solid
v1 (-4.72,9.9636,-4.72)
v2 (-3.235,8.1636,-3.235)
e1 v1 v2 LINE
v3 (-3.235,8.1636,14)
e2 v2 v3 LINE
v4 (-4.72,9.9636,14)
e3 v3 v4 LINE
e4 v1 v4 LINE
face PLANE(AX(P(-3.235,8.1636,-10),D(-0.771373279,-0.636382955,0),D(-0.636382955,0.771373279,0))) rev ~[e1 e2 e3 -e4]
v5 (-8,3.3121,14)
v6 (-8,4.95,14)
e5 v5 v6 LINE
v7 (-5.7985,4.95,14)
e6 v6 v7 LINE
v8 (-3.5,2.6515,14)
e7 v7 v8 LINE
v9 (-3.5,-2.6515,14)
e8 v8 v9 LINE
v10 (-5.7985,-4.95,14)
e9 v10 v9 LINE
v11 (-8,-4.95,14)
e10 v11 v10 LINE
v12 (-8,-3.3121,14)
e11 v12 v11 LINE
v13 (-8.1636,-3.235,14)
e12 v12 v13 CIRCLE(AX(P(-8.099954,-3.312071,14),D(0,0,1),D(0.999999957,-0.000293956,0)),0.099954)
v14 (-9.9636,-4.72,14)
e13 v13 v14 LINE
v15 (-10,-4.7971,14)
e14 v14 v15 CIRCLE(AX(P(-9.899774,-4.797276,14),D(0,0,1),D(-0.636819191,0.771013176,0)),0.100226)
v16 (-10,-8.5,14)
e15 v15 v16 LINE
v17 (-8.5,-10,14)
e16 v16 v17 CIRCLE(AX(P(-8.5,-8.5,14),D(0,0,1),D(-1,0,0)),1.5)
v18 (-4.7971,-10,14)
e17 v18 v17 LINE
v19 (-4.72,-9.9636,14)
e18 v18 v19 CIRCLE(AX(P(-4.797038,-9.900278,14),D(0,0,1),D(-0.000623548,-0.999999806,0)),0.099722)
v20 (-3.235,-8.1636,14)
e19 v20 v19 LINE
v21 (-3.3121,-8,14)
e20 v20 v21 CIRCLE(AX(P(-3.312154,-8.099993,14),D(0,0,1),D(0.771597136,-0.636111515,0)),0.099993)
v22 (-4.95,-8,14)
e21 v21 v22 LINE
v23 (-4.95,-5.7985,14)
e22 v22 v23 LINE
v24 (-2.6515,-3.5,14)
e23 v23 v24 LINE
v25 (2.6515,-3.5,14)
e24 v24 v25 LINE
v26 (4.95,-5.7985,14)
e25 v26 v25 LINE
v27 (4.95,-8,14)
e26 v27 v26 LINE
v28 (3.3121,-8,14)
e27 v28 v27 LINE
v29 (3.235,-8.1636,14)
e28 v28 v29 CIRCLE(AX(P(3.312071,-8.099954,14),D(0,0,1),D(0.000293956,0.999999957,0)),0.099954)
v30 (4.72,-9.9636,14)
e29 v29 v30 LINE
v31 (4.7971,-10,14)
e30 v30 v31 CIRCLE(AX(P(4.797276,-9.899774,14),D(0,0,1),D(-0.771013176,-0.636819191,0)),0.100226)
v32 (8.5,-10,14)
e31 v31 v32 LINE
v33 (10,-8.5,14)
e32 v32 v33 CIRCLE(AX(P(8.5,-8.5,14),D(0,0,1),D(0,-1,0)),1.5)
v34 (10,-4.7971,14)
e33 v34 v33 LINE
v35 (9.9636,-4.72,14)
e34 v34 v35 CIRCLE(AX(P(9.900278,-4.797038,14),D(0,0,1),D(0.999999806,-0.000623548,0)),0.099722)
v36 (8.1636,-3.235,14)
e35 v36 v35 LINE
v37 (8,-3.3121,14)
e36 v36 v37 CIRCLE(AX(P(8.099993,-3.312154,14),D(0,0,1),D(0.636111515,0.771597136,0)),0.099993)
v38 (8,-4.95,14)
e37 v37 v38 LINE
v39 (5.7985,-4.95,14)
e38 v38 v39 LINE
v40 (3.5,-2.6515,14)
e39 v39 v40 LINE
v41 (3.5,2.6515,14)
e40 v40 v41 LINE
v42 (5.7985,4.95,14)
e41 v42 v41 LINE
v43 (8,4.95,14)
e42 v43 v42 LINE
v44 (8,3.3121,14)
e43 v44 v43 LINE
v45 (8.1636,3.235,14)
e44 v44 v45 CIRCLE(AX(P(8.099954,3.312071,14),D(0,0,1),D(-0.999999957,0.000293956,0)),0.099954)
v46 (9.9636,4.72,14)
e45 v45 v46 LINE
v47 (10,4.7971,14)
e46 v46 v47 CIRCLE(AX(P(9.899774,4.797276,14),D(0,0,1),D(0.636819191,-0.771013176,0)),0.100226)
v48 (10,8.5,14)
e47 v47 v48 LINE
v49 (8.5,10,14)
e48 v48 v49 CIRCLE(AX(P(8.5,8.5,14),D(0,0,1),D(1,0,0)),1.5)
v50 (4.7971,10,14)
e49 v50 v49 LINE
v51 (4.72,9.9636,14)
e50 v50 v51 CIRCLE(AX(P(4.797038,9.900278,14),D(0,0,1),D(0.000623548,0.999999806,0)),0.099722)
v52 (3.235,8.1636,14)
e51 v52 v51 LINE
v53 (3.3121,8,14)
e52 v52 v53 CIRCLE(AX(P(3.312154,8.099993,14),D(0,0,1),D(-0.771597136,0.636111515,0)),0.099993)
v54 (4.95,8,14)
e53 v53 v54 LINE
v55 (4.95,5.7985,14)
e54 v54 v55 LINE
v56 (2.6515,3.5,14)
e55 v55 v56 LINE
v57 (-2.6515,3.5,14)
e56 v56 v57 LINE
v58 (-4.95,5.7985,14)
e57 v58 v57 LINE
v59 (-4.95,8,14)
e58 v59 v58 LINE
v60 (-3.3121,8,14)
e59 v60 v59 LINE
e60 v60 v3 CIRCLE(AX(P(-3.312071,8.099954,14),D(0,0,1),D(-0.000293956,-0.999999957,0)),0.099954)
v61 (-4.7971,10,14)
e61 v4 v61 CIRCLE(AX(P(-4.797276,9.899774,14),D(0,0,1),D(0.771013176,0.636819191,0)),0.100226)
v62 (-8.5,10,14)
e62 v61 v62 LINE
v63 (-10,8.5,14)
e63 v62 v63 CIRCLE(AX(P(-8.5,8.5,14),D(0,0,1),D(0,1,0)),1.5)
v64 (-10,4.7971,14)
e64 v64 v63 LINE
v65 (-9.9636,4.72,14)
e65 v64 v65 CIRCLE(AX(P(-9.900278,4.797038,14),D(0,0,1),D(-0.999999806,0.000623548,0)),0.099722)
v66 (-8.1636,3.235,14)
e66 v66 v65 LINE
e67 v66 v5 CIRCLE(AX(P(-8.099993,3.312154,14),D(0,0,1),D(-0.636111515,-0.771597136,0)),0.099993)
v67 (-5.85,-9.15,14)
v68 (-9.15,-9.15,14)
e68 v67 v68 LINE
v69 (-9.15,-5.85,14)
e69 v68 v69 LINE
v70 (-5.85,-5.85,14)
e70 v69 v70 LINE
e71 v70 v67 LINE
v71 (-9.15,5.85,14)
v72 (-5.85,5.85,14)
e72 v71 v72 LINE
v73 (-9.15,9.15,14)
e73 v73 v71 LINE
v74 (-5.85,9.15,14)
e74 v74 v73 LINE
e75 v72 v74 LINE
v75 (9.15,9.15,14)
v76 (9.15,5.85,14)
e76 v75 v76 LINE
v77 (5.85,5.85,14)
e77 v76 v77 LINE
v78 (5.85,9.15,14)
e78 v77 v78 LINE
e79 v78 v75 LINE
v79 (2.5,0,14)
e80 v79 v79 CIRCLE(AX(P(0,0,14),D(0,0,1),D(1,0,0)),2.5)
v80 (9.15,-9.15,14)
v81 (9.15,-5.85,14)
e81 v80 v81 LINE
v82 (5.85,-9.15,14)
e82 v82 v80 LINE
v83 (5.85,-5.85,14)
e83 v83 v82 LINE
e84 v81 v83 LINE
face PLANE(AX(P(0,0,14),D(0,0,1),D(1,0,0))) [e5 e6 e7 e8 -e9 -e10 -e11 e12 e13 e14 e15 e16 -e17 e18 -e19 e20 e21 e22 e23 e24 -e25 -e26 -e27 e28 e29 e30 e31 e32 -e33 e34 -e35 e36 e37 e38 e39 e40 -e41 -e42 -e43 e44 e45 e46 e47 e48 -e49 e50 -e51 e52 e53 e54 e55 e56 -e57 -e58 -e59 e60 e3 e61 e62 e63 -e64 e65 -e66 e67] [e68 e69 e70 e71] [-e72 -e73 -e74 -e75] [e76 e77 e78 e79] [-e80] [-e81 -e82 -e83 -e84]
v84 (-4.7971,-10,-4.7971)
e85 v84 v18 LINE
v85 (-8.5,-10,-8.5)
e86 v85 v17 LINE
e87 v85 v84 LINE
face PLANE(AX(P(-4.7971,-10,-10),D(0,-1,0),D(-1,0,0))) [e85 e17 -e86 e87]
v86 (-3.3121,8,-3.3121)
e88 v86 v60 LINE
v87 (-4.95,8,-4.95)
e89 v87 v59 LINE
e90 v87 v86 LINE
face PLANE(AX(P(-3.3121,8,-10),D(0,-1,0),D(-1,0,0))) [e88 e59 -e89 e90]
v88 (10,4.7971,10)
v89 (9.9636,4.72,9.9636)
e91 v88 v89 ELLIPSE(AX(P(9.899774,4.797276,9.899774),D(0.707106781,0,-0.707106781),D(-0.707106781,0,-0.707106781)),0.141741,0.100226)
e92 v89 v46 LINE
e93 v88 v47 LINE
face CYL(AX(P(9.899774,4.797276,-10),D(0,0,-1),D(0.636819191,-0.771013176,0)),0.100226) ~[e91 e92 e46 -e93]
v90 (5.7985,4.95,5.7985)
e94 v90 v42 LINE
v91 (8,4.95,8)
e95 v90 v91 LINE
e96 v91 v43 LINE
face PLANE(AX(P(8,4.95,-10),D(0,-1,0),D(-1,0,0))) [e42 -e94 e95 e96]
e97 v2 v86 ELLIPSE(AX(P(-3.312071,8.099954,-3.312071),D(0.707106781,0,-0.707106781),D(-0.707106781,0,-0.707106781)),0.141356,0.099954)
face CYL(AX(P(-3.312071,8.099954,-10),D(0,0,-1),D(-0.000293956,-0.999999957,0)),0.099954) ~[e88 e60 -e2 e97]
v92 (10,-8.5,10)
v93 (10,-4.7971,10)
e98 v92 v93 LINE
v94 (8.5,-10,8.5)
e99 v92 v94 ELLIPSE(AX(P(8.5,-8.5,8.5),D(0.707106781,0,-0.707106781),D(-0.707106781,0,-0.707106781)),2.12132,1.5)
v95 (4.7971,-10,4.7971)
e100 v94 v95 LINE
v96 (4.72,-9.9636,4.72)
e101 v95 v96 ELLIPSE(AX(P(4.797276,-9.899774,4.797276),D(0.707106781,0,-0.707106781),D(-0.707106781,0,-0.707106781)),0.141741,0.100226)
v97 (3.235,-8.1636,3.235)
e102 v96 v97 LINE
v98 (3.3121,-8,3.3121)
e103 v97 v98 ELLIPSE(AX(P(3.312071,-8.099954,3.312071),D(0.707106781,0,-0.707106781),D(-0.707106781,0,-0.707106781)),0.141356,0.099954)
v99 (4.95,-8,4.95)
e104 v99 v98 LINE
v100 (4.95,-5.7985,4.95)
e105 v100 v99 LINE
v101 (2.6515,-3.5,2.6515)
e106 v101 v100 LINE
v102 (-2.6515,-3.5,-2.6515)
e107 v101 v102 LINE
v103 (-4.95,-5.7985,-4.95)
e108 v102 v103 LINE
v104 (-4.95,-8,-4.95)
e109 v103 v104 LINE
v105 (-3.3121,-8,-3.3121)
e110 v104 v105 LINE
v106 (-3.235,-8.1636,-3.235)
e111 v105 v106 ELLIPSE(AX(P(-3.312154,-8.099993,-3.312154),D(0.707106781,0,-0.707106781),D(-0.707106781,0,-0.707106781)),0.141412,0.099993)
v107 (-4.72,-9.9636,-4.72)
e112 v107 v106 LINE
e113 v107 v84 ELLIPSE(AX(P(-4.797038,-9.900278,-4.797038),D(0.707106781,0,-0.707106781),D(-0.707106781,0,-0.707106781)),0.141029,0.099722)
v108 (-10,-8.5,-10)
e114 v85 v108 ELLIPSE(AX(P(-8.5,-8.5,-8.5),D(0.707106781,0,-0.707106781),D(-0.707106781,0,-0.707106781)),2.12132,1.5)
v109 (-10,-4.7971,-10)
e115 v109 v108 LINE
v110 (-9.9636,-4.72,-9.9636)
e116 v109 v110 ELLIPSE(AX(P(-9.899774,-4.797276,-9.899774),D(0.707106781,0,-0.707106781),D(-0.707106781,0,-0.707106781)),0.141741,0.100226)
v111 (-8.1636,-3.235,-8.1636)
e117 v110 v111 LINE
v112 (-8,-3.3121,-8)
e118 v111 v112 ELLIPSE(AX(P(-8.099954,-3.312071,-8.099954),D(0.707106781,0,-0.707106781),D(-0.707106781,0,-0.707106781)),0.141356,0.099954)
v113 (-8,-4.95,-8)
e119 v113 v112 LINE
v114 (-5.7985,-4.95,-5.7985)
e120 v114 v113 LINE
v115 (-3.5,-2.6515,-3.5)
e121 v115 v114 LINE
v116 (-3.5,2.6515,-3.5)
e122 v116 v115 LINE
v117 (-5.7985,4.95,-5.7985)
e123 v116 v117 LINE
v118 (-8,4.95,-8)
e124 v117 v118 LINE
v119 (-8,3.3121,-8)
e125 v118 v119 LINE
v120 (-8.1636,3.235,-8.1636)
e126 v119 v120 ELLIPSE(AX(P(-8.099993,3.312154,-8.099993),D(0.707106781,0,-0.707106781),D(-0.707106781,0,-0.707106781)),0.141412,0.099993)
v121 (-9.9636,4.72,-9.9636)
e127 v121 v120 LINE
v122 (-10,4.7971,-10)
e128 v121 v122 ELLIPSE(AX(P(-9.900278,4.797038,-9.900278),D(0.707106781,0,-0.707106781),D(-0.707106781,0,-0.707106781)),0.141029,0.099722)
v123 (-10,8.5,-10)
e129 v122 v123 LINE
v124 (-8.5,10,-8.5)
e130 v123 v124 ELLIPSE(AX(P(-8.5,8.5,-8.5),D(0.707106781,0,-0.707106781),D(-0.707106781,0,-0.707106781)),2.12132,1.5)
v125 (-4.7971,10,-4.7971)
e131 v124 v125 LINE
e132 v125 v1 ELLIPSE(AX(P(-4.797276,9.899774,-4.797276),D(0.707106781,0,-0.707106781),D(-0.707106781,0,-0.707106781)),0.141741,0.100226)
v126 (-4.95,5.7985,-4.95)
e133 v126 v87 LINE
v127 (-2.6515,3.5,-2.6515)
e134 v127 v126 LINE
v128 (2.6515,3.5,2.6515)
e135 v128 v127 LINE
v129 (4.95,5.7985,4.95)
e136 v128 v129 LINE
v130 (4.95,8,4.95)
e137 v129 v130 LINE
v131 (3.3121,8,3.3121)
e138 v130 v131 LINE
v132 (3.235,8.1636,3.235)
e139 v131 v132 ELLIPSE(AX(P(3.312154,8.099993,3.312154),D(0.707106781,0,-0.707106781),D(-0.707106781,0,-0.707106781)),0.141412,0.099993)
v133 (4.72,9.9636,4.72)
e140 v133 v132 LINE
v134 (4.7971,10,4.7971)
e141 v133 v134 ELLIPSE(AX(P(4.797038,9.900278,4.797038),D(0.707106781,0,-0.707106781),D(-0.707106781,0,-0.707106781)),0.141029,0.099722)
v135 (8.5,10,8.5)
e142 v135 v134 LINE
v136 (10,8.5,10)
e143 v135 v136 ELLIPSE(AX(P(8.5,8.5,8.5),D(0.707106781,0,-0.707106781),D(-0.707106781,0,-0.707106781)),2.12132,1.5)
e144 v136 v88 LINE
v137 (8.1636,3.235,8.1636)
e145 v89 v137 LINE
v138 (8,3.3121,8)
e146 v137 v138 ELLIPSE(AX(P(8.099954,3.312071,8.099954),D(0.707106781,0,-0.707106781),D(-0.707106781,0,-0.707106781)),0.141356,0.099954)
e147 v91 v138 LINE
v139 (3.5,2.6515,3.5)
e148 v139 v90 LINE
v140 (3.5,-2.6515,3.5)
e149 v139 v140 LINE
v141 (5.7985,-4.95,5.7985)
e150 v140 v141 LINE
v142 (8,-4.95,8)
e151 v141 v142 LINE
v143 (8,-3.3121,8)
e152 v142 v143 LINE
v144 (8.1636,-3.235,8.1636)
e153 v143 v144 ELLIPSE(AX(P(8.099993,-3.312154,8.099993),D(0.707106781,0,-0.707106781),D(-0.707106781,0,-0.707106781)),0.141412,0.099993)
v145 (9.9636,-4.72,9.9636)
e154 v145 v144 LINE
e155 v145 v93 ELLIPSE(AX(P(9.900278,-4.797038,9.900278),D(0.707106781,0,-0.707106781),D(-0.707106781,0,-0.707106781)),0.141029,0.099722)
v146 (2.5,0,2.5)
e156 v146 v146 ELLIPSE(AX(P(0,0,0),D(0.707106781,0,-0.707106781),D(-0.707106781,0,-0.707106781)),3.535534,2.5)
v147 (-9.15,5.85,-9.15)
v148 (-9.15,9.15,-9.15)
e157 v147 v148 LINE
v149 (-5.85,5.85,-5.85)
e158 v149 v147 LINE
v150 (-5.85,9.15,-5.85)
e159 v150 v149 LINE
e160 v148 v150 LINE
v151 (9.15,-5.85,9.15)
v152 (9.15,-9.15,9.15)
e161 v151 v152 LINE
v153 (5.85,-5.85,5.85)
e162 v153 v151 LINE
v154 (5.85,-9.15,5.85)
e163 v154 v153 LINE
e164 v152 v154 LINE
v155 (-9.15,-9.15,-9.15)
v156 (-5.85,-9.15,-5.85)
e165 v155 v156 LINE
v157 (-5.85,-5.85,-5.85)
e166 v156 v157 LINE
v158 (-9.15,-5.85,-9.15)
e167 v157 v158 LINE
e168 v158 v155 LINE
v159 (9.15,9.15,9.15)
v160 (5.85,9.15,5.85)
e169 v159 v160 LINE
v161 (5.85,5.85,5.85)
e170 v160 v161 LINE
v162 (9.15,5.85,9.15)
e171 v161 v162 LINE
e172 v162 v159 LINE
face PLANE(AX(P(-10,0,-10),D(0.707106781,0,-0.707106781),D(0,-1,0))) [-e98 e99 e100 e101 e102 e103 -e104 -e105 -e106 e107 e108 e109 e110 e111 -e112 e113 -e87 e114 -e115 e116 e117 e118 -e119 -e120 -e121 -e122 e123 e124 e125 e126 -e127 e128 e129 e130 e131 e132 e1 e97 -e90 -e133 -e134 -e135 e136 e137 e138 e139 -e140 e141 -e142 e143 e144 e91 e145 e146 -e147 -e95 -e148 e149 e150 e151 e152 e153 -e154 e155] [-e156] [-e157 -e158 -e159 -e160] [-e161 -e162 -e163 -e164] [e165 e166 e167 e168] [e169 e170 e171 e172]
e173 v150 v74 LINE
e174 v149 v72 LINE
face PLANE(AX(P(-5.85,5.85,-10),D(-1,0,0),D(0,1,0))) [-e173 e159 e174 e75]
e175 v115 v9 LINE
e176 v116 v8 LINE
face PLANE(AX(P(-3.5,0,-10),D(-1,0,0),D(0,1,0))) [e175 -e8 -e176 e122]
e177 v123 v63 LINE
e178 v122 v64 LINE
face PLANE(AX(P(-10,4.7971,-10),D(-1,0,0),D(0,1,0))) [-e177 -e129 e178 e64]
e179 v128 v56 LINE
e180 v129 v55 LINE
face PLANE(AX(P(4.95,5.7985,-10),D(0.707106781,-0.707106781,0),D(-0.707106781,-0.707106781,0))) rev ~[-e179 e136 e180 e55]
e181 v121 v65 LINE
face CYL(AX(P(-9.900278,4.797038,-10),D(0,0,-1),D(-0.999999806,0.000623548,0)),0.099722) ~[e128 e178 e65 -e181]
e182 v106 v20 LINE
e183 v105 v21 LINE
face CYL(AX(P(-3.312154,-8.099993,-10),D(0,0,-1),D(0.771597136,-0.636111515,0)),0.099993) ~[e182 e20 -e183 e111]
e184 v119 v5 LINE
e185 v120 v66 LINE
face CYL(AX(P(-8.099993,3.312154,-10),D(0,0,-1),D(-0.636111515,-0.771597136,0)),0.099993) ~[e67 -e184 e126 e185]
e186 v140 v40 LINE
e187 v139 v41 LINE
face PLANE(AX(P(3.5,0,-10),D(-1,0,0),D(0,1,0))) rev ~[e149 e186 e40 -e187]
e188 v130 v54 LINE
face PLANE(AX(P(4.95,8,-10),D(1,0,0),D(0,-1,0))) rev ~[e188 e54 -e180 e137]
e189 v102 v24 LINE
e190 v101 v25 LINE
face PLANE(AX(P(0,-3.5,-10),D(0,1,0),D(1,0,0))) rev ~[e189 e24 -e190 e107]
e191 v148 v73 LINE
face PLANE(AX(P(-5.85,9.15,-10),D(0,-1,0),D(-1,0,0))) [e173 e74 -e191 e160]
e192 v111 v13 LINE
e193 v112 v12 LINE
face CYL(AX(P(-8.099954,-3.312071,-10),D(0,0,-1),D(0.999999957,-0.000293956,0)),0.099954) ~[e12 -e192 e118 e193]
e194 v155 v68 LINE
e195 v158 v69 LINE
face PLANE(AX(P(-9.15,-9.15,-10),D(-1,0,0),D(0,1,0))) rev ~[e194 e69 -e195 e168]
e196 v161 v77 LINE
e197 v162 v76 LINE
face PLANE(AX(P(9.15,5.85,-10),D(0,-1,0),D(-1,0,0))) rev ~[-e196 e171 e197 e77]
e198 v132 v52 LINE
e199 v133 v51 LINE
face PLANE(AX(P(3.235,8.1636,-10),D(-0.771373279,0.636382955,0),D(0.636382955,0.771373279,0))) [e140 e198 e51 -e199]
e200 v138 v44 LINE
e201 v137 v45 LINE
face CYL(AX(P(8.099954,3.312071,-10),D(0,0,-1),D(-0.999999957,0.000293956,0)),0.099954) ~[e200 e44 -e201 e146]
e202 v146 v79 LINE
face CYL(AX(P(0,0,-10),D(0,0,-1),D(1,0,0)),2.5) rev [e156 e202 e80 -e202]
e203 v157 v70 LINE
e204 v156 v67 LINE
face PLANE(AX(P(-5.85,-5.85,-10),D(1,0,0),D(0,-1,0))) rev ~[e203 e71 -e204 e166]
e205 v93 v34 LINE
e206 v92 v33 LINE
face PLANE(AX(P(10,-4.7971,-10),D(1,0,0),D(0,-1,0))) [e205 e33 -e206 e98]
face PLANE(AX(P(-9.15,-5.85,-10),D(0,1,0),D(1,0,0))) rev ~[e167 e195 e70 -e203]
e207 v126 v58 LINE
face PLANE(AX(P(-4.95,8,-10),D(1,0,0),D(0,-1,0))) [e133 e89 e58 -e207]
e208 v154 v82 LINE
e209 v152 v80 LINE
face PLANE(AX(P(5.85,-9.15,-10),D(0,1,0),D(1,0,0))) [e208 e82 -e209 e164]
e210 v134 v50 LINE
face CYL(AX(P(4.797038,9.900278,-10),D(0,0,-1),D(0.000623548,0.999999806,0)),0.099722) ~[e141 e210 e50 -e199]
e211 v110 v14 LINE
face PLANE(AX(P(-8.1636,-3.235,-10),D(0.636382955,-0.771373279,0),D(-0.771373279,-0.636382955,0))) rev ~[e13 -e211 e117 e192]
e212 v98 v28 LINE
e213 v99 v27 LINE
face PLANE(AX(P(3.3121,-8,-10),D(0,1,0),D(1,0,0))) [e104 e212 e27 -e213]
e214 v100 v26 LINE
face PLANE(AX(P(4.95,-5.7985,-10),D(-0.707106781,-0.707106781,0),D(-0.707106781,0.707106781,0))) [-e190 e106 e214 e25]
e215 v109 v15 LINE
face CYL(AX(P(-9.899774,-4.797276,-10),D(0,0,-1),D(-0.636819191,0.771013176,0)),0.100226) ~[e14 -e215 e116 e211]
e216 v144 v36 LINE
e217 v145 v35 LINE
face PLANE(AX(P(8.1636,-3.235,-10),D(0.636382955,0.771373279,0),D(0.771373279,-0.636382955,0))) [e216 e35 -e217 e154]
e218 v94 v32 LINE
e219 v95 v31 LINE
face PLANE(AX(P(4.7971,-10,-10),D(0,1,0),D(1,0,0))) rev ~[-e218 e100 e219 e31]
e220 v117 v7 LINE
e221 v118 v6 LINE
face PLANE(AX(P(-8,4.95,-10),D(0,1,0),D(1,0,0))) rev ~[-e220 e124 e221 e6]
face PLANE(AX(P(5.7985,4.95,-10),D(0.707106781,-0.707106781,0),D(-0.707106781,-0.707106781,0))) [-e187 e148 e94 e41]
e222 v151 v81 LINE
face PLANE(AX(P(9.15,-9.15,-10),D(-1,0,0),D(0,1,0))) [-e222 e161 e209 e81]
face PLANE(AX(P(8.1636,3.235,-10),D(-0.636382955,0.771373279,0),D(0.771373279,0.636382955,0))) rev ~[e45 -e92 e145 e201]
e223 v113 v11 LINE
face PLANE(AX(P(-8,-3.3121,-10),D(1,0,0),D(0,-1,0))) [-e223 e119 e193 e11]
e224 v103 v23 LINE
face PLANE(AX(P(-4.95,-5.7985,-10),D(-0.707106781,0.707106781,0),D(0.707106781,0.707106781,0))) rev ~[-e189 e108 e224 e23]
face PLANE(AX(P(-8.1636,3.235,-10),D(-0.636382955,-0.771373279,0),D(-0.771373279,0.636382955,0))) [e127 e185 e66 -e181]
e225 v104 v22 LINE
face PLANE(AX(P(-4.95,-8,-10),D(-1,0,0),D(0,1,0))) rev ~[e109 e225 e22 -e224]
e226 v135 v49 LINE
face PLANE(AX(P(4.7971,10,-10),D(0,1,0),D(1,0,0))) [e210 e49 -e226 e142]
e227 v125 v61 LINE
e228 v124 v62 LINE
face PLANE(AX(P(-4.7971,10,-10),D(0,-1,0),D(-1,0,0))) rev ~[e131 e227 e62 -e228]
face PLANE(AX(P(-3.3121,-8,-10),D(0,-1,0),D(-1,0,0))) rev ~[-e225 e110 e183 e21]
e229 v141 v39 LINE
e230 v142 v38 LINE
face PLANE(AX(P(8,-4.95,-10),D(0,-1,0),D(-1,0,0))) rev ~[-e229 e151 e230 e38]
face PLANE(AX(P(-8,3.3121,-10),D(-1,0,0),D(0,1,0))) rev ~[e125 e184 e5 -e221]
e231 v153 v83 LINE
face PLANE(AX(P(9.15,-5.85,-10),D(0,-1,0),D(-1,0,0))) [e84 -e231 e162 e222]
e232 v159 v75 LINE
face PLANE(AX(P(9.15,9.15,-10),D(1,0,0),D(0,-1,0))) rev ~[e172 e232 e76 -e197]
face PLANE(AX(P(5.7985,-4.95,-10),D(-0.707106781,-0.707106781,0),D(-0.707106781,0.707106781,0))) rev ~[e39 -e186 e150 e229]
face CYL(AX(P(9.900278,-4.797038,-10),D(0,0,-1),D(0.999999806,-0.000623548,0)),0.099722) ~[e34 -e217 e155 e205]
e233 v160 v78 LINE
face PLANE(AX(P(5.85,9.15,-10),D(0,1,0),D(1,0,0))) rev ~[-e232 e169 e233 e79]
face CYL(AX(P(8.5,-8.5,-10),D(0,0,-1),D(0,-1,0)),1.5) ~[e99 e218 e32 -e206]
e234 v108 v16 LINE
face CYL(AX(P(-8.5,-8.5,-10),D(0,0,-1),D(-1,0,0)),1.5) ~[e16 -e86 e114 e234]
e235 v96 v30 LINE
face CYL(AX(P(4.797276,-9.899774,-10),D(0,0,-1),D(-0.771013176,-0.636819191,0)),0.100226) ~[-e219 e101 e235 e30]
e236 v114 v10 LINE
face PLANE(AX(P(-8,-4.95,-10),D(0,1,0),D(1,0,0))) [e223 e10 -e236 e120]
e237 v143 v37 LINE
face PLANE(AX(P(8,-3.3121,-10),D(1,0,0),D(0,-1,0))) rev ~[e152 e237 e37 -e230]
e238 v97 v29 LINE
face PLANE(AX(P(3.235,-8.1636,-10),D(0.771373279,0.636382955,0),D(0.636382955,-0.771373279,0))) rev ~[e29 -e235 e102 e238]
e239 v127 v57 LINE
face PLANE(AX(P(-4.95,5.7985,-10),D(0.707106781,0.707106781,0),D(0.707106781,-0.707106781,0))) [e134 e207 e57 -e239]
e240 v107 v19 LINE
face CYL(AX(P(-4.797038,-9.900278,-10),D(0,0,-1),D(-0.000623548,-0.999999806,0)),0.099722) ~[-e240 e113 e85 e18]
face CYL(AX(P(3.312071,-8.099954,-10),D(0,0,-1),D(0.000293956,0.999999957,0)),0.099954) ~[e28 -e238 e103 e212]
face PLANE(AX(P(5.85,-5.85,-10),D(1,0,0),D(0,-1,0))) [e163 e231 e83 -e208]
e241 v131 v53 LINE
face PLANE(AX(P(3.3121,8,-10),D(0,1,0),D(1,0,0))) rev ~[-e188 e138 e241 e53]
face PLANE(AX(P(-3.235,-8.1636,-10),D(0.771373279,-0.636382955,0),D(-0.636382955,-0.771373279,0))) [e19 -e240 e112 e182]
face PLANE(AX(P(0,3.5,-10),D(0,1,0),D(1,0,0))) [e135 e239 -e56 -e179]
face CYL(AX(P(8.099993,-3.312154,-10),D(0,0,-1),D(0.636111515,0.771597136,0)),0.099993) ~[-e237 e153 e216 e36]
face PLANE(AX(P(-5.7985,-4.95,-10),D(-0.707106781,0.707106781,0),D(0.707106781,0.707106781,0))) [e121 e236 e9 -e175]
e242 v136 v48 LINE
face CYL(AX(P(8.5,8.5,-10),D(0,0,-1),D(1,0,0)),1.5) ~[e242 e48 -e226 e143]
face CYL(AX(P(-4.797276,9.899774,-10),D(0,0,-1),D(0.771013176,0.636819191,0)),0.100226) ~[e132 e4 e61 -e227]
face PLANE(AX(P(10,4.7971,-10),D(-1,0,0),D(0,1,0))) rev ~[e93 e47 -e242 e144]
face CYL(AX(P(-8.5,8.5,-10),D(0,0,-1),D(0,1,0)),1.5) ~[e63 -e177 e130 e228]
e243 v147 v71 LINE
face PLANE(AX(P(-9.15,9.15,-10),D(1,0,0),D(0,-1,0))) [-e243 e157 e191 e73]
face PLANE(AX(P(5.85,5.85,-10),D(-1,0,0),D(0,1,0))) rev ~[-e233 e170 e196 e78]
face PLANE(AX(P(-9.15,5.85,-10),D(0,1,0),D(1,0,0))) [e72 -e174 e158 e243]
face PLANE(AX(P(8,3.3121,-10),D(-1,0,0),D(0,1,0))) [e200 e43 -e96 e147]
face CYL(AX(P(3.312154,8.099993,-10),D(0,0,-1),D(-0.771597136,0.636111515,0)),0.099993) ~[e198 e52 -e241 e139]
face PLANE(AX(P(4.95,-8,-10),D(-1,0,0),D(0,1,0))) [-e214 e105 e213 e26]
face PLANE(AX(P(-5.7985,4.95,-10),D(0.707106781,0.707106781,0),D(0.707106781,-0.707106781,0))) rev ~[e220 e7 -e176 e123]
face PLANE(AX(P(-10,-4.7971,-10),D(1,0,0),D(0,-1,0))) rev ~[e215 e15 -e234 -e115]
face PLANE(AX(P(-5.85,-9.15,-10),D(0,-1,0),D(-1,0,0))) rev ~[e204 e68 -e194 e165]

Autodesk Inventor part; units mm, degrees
ref_plane "Начальная плоскость" through (0, 0, -10) normal (0, 0, 1) x (1, 0, 0)
ref_plane "Конечная плоскость" through (0, 0, 14) normal (0, 0, 1) x (1, 0, 0)
sketch "Эскиз" plane through (0, 0, 0) normal (0, 0, 1) x (1, 0, 0)
  line L0 (-14.4349, 0) -> (14.4349, 0) projected
  line L1 (0, -14) -> (0, 14) projected
  line L2 (0, 0) -> (7.5, 7.5) construction
  circle A0 centre (7.5, 7.5) radius 1.65 construction
  line L3 (5.85, 9.15) -> (9.15, 9.15)
  line L4 (9.15, 9.15) -> (9.15, 5.85)
  line L5 (9.15, 5.85) -> (5.85, 5.85)
  line L6 (5.85, 5.85) -> (5.85, 9.15)
  line L7 (3.235, 8.1636) -> (4.72, 9.9636)
  line L8 (4.7971, 10) -> (8.5, 10)
  line L9 (3.3121, 8) -> (4.95, 8)
  line L10 (4.95, 8) -> (4.95, 5.7985)
  line L11 (4.95, 5.7985) -> (2.6515, 3.5)
  line L12 (0, 3.5) -> (2.6515, 3.5)
  circle A1 centre (0, 0) radius 2.5
  line L13 (8.1636, 3.235) -> (9.9636, 4.72)
  line L14 (10, 4.7971) -> (10, 8.5)
  line L15 (8, 3.3121) -> (8, 4.95)
  line L16 (8, 4.95) -> (5.7985, 4.95)
  line L17 (5.7985, 4.95) -> (3.5, 2.6515)
  line L18 (3.5, 0) -> (3.5, 2.6515)
  arc A2 (10, 8.5) -> (8.5, 10) centre (8.5, 8.5) ccw
  line L19 (0, 0) -> (-7.5, 7.5) construction
  circle A3 centre (-7.5, 7.5) radius 1.65 construction
  line L20 (-5.85, 9.15) -> (-9.15, 9.15)
  line L21 (-9.15, 9.15) -> (-9.15, 5.85)
  line L22 (-9.15, 5.85) -> (-5.85, 5.85)
  line L23 (-5.85, 5.85) -> (-5.85, 9.15)
  line L24 (-3.235, 8.1636) -> (-4.72, 9.9636)
  line L25 (-4.7971, 10) -> (-8.5, 10)
  line L26 (-3.3121, 8) -> (-4.95, 8)
  line L27 (-4.95, 8) -> (-4.95, 5.7985)
  line L28 (-4.95, 5.7985) -> (-2.6515, 3.5)
  line L29 (0, 3.5) -> (-2.6515, 3.5)
  line L30 (-3.5, 0) -> (-3.5, 2.6515)
  line L31 (-5.7985, 4.95) -> (-3.5, 2.6515)
  line L32 (-8, 4.95) -> (-5.7985, 4.95)
  line L33 (-8, 3.3121) -> (-8, 4.95)
  line L34 (-8.1636, 3.235) -> (-9.9636, 4.72)
  line L35 (-10, 4.7971) -> (-10, 8.5)
  arc A4 (-8.5, 10) -> (-10, 8.5) centre (-8.5, 8.5) ccw
  line L36 (0, 14) -> (0, -14)
  line L37 (0, 0) -> (7.5, -7.5) construction
  circle A5 centre (7.5, -7.5) radius 1.65 construction
  line L38 (5.85, -9.15) -> (9.15, -9.15)
  line L39 (9.15, -9.15) -> (9.15, -5.85)
  line L40 (9.15, -5.85) -> (5.85, -5.85)
  line L41 (5.85, -5.85) -> (5.85, -9.15)
  line L42 (3.235, -8.1636) -> (4.72, -9.9636)
  line L43 (4.7971, -10) -> (8.5, -10)
  line L44 (3.3121, -8) -> (4.95, -8)
  line L45 (4.95, -8) -> (4.95, -5.7985)
  line L46 (4.95, -5.7985) -> (2.6515, -3.5)
  line L47 (0, -3.5) -> (2.6515, -3.5)
  line L48 (3.5, 0) -> (3.5, -2.6515)
  line L49 (5.7985, -4.95) -> (3.5, -2.6515)
  line L50 (8, -4.95) -> (5.7985, -4.95)
  line L51 (8, -3.3121) -> (8, -4.95)
  line L52 (8.1636, -3.235) -> (9.9636, -4.72)
  line L53 (10, -4.7971) -> (10, -8.5)
  arc A6 (8.5, -10) -> (10, -8.5) centre (8.5, -8.5) ccw
  line L54 (0, 0) -> (-7.5, -7.5) construction
  line L55 (-4.95, -8) -> (-4.95, -5.7985)
  line L56 (-3.3121, -8) -> (-4.95, -8)
  line L57 (-5.7985, -4.95) -> (-3.5, -2.6515)
  line L58 (-4.95, -5.7985) -> (-2.6515, -3.5)
  line L59 (-3.5, 0) -> (-3.5, -2.6515)
  line L60 (0, -3.5) -> (-2.6515, -3.5)
  circle A7 centre (-7.5, -7.5) radius 1.65 construction
  line L61 (-5.85, -5.85) -> (-5.85, -9.15)
  line L62 (-5.85, -9.15) -> (-9.15, -9.15)
  line L63 (-9.15, -9.15) -> (-9.15, -5.85)
  line L64 (-9.15, -5.85) -> (-5.85, -5.85)
  line L65 (-3.235, -8.1636) -> (-4.72, -9.9636)
  line L66 (-8, -4.95) -> (-5.7985, -4.95)
  line L67 (-8, -3.3121) -> (-8, -4.95)
  line L68 (-8.1636, -3.235) -> (-9.9636, -4.72)
  line L69 (-4.7971, -10) -> (-8.5, -10)
  line L70 (-10, -4.7971) -> (-10, -8.5)
  arc A8 (-10, -8.5) -> (-8.5, -10) centre (-8.5, -8.5) ccw
  arc A9 (3.235, 8.1636) -> (3.3121, 8) centre (3.3121, 8.1) ccw
  arc A10 (4.7971, 10) -> (4.72, 9.9636) centre (4.7971, 9.9) ccw
  arc A11 (8, 3.3121) -> (8.1636, 3.235) centre (8.1, 3.3121) ccw
  arc A12 (9.9636, 4.72) -> (10, 4.7971) centre (9.9, 4.7971) ccw
  arc A13 (-3.3121, 8) -> (-3.235, 8.1636) centre (-3.3121, 8.1) ccw
  arc A14 (-4.72, 9.9636) -> (-4.7971, 10) centre (-4.7971, 9.9) ccw
  arc A15 (-8.1636, 3.235) -> (-8, 3.3121) centre (-8.1, 3.3121) ccw
  arc A16 (-10, 4.7971) -> (-9.9636, 4.72) centre (-9.9, 4.7971) ccw
  arc A17 (-8, -3.3121) -> (-8.1636, -3.235) centre (-8.1, -3.3121) ccw
  arc A18 (-9.9636, -4.72) -> (-10, -4.7971) centre (-9.9, -4.7971) ccw
  arc A19 (-3.235, -8.1636) -> (-3.3121, -8) centre (-3.3121, -8.1) ccw
  arc A20 (-4.7971, -10) -> (-4.72, -9.9636) centre (-4.7971, -9.9) ccw
  arc A21 (4.72, -9.9636) -> (4.7971, -10) centre (4.7971, -9.9) ccw
  arc A22 (3.3121, -8) -> (3.235, -8.1636) centre (3.3121, -8.1) ccw
  arc A23 (8.1636, -3.235) -> (8, -3.3121) centre (8.1, -3.3121) ccw
  arc A24 (10, -4.7971) -> (9.9636, -4.72) centre (9.9, -4.7971) ccw
  point P0 (3.1, 8)
  point P1 (4.75, 10)
  point P2 (7.5, 9.15)
  point P3 (8, 3.1)
  point P4 (10, 4.75)
  point P5 (7.5, 5.85)
  point P6 (9.15, 7.5)
  point P7 (-3.1, 8)
  point P8 (-4.75, 10)
  point P9 (-7.5, 9.15)
  point P10 (-8, 3.1)
  point P11 (-10, 4.75)
  point P12 (-7.5, 5.85)
  point P13 (-9.15, 7.5)
  point P14 (3.1, -8)
  point P15 (4.75, -10)
  point P16 (7.5, -9.15)
  point P17 (8, -3.1)
  point P18 (10, -4.75)
  point P19 (7.5, -5.85)
  point P20 (9.15, -7.5)
  point P21 (-3.1, -8)
  point P22 (-7.5, -5.85)
  point P23 (-7.5, -9.15)
  point P24 (-9.15, -7.5)
  point P25 (-4.75, -10)
  point P26 (-8, -3.1)
  point P27 (-10, -4.75)
  dimension "d0" = 45
  dimension "d1" = 3.3
  dimension "d2" = 1.5
  dimension "d3" = 1.2
  dimension "d4" = 5
  dimension "d5" = 6.5
  dimension "d6" = 15
  dimension "d7" = 20
  dimension "d8" = 9.9
  dimension "d9" = 9.5
  dimension "d10" = 6.2
  dimension "d11" = 2
  dimension "d18" = 0.1
  dimension "d19" = 0.1
extrude "Тело" add sketch "Эскиз" along normal up to surface (24 mm away) from surface at -10 contours A1 L1 L12 L11 L10 L9 A9 L7 A10 L8 A2 L14 A12 L13 A11 L15 L16 L17 L18 L0 | L0 L48 L49 L50 L51 A23 L52 A24 L53 A6 L43 A21 L42 A22 L44 L45 L46 L47 L1 A1 | A1 L0 L30 L31 L32 L33 A15 L34 A16 L35 A4 L25 A14 L24 A13 L26 L27 L28 L29 L1 | L1 L60 L58 L55 L56 A19 L65 A20 L69 A8 L70 A18 L68 A17 L67 L66 L57 L59 L0 A1
sketch "Эскиз2" plane through (0, 0, 0) normal (0, 0, 1) x (1, 0, 0)
  line L0 (0, 0) -> (10, 0)
ref_plane "РабПлоскость3" through (0, 0, 0) normal (0, -1, 0) x (1, 0, 0)
sketch "Эскиз3" plane through (0, 0, 0) normal (0, -1, 0) x (1, 0, 0)
  line L0 (-2, -10) -> (12, -10)
  line L1 (-2, 14) -> (12, 14)
  dimension "d25" = 24
ref_plane "РабПлоскость4" through (-10, 0, -10) normal (0.7071, 0, -0.7071) x (-0.7071, 0, -0.7071)
split "Разделение1" plane through (-10, 0, -10) removes the side toward (0.7071, 0, -0.7071)
equation "\"Длина\" = 14"
equation "\"G_OFFSET_END\" = 0"
equation "\"d21\" = Длина + G_OFFSET_END"
equation "\"G_L\" = d25"
properties part number "короткая палка"
